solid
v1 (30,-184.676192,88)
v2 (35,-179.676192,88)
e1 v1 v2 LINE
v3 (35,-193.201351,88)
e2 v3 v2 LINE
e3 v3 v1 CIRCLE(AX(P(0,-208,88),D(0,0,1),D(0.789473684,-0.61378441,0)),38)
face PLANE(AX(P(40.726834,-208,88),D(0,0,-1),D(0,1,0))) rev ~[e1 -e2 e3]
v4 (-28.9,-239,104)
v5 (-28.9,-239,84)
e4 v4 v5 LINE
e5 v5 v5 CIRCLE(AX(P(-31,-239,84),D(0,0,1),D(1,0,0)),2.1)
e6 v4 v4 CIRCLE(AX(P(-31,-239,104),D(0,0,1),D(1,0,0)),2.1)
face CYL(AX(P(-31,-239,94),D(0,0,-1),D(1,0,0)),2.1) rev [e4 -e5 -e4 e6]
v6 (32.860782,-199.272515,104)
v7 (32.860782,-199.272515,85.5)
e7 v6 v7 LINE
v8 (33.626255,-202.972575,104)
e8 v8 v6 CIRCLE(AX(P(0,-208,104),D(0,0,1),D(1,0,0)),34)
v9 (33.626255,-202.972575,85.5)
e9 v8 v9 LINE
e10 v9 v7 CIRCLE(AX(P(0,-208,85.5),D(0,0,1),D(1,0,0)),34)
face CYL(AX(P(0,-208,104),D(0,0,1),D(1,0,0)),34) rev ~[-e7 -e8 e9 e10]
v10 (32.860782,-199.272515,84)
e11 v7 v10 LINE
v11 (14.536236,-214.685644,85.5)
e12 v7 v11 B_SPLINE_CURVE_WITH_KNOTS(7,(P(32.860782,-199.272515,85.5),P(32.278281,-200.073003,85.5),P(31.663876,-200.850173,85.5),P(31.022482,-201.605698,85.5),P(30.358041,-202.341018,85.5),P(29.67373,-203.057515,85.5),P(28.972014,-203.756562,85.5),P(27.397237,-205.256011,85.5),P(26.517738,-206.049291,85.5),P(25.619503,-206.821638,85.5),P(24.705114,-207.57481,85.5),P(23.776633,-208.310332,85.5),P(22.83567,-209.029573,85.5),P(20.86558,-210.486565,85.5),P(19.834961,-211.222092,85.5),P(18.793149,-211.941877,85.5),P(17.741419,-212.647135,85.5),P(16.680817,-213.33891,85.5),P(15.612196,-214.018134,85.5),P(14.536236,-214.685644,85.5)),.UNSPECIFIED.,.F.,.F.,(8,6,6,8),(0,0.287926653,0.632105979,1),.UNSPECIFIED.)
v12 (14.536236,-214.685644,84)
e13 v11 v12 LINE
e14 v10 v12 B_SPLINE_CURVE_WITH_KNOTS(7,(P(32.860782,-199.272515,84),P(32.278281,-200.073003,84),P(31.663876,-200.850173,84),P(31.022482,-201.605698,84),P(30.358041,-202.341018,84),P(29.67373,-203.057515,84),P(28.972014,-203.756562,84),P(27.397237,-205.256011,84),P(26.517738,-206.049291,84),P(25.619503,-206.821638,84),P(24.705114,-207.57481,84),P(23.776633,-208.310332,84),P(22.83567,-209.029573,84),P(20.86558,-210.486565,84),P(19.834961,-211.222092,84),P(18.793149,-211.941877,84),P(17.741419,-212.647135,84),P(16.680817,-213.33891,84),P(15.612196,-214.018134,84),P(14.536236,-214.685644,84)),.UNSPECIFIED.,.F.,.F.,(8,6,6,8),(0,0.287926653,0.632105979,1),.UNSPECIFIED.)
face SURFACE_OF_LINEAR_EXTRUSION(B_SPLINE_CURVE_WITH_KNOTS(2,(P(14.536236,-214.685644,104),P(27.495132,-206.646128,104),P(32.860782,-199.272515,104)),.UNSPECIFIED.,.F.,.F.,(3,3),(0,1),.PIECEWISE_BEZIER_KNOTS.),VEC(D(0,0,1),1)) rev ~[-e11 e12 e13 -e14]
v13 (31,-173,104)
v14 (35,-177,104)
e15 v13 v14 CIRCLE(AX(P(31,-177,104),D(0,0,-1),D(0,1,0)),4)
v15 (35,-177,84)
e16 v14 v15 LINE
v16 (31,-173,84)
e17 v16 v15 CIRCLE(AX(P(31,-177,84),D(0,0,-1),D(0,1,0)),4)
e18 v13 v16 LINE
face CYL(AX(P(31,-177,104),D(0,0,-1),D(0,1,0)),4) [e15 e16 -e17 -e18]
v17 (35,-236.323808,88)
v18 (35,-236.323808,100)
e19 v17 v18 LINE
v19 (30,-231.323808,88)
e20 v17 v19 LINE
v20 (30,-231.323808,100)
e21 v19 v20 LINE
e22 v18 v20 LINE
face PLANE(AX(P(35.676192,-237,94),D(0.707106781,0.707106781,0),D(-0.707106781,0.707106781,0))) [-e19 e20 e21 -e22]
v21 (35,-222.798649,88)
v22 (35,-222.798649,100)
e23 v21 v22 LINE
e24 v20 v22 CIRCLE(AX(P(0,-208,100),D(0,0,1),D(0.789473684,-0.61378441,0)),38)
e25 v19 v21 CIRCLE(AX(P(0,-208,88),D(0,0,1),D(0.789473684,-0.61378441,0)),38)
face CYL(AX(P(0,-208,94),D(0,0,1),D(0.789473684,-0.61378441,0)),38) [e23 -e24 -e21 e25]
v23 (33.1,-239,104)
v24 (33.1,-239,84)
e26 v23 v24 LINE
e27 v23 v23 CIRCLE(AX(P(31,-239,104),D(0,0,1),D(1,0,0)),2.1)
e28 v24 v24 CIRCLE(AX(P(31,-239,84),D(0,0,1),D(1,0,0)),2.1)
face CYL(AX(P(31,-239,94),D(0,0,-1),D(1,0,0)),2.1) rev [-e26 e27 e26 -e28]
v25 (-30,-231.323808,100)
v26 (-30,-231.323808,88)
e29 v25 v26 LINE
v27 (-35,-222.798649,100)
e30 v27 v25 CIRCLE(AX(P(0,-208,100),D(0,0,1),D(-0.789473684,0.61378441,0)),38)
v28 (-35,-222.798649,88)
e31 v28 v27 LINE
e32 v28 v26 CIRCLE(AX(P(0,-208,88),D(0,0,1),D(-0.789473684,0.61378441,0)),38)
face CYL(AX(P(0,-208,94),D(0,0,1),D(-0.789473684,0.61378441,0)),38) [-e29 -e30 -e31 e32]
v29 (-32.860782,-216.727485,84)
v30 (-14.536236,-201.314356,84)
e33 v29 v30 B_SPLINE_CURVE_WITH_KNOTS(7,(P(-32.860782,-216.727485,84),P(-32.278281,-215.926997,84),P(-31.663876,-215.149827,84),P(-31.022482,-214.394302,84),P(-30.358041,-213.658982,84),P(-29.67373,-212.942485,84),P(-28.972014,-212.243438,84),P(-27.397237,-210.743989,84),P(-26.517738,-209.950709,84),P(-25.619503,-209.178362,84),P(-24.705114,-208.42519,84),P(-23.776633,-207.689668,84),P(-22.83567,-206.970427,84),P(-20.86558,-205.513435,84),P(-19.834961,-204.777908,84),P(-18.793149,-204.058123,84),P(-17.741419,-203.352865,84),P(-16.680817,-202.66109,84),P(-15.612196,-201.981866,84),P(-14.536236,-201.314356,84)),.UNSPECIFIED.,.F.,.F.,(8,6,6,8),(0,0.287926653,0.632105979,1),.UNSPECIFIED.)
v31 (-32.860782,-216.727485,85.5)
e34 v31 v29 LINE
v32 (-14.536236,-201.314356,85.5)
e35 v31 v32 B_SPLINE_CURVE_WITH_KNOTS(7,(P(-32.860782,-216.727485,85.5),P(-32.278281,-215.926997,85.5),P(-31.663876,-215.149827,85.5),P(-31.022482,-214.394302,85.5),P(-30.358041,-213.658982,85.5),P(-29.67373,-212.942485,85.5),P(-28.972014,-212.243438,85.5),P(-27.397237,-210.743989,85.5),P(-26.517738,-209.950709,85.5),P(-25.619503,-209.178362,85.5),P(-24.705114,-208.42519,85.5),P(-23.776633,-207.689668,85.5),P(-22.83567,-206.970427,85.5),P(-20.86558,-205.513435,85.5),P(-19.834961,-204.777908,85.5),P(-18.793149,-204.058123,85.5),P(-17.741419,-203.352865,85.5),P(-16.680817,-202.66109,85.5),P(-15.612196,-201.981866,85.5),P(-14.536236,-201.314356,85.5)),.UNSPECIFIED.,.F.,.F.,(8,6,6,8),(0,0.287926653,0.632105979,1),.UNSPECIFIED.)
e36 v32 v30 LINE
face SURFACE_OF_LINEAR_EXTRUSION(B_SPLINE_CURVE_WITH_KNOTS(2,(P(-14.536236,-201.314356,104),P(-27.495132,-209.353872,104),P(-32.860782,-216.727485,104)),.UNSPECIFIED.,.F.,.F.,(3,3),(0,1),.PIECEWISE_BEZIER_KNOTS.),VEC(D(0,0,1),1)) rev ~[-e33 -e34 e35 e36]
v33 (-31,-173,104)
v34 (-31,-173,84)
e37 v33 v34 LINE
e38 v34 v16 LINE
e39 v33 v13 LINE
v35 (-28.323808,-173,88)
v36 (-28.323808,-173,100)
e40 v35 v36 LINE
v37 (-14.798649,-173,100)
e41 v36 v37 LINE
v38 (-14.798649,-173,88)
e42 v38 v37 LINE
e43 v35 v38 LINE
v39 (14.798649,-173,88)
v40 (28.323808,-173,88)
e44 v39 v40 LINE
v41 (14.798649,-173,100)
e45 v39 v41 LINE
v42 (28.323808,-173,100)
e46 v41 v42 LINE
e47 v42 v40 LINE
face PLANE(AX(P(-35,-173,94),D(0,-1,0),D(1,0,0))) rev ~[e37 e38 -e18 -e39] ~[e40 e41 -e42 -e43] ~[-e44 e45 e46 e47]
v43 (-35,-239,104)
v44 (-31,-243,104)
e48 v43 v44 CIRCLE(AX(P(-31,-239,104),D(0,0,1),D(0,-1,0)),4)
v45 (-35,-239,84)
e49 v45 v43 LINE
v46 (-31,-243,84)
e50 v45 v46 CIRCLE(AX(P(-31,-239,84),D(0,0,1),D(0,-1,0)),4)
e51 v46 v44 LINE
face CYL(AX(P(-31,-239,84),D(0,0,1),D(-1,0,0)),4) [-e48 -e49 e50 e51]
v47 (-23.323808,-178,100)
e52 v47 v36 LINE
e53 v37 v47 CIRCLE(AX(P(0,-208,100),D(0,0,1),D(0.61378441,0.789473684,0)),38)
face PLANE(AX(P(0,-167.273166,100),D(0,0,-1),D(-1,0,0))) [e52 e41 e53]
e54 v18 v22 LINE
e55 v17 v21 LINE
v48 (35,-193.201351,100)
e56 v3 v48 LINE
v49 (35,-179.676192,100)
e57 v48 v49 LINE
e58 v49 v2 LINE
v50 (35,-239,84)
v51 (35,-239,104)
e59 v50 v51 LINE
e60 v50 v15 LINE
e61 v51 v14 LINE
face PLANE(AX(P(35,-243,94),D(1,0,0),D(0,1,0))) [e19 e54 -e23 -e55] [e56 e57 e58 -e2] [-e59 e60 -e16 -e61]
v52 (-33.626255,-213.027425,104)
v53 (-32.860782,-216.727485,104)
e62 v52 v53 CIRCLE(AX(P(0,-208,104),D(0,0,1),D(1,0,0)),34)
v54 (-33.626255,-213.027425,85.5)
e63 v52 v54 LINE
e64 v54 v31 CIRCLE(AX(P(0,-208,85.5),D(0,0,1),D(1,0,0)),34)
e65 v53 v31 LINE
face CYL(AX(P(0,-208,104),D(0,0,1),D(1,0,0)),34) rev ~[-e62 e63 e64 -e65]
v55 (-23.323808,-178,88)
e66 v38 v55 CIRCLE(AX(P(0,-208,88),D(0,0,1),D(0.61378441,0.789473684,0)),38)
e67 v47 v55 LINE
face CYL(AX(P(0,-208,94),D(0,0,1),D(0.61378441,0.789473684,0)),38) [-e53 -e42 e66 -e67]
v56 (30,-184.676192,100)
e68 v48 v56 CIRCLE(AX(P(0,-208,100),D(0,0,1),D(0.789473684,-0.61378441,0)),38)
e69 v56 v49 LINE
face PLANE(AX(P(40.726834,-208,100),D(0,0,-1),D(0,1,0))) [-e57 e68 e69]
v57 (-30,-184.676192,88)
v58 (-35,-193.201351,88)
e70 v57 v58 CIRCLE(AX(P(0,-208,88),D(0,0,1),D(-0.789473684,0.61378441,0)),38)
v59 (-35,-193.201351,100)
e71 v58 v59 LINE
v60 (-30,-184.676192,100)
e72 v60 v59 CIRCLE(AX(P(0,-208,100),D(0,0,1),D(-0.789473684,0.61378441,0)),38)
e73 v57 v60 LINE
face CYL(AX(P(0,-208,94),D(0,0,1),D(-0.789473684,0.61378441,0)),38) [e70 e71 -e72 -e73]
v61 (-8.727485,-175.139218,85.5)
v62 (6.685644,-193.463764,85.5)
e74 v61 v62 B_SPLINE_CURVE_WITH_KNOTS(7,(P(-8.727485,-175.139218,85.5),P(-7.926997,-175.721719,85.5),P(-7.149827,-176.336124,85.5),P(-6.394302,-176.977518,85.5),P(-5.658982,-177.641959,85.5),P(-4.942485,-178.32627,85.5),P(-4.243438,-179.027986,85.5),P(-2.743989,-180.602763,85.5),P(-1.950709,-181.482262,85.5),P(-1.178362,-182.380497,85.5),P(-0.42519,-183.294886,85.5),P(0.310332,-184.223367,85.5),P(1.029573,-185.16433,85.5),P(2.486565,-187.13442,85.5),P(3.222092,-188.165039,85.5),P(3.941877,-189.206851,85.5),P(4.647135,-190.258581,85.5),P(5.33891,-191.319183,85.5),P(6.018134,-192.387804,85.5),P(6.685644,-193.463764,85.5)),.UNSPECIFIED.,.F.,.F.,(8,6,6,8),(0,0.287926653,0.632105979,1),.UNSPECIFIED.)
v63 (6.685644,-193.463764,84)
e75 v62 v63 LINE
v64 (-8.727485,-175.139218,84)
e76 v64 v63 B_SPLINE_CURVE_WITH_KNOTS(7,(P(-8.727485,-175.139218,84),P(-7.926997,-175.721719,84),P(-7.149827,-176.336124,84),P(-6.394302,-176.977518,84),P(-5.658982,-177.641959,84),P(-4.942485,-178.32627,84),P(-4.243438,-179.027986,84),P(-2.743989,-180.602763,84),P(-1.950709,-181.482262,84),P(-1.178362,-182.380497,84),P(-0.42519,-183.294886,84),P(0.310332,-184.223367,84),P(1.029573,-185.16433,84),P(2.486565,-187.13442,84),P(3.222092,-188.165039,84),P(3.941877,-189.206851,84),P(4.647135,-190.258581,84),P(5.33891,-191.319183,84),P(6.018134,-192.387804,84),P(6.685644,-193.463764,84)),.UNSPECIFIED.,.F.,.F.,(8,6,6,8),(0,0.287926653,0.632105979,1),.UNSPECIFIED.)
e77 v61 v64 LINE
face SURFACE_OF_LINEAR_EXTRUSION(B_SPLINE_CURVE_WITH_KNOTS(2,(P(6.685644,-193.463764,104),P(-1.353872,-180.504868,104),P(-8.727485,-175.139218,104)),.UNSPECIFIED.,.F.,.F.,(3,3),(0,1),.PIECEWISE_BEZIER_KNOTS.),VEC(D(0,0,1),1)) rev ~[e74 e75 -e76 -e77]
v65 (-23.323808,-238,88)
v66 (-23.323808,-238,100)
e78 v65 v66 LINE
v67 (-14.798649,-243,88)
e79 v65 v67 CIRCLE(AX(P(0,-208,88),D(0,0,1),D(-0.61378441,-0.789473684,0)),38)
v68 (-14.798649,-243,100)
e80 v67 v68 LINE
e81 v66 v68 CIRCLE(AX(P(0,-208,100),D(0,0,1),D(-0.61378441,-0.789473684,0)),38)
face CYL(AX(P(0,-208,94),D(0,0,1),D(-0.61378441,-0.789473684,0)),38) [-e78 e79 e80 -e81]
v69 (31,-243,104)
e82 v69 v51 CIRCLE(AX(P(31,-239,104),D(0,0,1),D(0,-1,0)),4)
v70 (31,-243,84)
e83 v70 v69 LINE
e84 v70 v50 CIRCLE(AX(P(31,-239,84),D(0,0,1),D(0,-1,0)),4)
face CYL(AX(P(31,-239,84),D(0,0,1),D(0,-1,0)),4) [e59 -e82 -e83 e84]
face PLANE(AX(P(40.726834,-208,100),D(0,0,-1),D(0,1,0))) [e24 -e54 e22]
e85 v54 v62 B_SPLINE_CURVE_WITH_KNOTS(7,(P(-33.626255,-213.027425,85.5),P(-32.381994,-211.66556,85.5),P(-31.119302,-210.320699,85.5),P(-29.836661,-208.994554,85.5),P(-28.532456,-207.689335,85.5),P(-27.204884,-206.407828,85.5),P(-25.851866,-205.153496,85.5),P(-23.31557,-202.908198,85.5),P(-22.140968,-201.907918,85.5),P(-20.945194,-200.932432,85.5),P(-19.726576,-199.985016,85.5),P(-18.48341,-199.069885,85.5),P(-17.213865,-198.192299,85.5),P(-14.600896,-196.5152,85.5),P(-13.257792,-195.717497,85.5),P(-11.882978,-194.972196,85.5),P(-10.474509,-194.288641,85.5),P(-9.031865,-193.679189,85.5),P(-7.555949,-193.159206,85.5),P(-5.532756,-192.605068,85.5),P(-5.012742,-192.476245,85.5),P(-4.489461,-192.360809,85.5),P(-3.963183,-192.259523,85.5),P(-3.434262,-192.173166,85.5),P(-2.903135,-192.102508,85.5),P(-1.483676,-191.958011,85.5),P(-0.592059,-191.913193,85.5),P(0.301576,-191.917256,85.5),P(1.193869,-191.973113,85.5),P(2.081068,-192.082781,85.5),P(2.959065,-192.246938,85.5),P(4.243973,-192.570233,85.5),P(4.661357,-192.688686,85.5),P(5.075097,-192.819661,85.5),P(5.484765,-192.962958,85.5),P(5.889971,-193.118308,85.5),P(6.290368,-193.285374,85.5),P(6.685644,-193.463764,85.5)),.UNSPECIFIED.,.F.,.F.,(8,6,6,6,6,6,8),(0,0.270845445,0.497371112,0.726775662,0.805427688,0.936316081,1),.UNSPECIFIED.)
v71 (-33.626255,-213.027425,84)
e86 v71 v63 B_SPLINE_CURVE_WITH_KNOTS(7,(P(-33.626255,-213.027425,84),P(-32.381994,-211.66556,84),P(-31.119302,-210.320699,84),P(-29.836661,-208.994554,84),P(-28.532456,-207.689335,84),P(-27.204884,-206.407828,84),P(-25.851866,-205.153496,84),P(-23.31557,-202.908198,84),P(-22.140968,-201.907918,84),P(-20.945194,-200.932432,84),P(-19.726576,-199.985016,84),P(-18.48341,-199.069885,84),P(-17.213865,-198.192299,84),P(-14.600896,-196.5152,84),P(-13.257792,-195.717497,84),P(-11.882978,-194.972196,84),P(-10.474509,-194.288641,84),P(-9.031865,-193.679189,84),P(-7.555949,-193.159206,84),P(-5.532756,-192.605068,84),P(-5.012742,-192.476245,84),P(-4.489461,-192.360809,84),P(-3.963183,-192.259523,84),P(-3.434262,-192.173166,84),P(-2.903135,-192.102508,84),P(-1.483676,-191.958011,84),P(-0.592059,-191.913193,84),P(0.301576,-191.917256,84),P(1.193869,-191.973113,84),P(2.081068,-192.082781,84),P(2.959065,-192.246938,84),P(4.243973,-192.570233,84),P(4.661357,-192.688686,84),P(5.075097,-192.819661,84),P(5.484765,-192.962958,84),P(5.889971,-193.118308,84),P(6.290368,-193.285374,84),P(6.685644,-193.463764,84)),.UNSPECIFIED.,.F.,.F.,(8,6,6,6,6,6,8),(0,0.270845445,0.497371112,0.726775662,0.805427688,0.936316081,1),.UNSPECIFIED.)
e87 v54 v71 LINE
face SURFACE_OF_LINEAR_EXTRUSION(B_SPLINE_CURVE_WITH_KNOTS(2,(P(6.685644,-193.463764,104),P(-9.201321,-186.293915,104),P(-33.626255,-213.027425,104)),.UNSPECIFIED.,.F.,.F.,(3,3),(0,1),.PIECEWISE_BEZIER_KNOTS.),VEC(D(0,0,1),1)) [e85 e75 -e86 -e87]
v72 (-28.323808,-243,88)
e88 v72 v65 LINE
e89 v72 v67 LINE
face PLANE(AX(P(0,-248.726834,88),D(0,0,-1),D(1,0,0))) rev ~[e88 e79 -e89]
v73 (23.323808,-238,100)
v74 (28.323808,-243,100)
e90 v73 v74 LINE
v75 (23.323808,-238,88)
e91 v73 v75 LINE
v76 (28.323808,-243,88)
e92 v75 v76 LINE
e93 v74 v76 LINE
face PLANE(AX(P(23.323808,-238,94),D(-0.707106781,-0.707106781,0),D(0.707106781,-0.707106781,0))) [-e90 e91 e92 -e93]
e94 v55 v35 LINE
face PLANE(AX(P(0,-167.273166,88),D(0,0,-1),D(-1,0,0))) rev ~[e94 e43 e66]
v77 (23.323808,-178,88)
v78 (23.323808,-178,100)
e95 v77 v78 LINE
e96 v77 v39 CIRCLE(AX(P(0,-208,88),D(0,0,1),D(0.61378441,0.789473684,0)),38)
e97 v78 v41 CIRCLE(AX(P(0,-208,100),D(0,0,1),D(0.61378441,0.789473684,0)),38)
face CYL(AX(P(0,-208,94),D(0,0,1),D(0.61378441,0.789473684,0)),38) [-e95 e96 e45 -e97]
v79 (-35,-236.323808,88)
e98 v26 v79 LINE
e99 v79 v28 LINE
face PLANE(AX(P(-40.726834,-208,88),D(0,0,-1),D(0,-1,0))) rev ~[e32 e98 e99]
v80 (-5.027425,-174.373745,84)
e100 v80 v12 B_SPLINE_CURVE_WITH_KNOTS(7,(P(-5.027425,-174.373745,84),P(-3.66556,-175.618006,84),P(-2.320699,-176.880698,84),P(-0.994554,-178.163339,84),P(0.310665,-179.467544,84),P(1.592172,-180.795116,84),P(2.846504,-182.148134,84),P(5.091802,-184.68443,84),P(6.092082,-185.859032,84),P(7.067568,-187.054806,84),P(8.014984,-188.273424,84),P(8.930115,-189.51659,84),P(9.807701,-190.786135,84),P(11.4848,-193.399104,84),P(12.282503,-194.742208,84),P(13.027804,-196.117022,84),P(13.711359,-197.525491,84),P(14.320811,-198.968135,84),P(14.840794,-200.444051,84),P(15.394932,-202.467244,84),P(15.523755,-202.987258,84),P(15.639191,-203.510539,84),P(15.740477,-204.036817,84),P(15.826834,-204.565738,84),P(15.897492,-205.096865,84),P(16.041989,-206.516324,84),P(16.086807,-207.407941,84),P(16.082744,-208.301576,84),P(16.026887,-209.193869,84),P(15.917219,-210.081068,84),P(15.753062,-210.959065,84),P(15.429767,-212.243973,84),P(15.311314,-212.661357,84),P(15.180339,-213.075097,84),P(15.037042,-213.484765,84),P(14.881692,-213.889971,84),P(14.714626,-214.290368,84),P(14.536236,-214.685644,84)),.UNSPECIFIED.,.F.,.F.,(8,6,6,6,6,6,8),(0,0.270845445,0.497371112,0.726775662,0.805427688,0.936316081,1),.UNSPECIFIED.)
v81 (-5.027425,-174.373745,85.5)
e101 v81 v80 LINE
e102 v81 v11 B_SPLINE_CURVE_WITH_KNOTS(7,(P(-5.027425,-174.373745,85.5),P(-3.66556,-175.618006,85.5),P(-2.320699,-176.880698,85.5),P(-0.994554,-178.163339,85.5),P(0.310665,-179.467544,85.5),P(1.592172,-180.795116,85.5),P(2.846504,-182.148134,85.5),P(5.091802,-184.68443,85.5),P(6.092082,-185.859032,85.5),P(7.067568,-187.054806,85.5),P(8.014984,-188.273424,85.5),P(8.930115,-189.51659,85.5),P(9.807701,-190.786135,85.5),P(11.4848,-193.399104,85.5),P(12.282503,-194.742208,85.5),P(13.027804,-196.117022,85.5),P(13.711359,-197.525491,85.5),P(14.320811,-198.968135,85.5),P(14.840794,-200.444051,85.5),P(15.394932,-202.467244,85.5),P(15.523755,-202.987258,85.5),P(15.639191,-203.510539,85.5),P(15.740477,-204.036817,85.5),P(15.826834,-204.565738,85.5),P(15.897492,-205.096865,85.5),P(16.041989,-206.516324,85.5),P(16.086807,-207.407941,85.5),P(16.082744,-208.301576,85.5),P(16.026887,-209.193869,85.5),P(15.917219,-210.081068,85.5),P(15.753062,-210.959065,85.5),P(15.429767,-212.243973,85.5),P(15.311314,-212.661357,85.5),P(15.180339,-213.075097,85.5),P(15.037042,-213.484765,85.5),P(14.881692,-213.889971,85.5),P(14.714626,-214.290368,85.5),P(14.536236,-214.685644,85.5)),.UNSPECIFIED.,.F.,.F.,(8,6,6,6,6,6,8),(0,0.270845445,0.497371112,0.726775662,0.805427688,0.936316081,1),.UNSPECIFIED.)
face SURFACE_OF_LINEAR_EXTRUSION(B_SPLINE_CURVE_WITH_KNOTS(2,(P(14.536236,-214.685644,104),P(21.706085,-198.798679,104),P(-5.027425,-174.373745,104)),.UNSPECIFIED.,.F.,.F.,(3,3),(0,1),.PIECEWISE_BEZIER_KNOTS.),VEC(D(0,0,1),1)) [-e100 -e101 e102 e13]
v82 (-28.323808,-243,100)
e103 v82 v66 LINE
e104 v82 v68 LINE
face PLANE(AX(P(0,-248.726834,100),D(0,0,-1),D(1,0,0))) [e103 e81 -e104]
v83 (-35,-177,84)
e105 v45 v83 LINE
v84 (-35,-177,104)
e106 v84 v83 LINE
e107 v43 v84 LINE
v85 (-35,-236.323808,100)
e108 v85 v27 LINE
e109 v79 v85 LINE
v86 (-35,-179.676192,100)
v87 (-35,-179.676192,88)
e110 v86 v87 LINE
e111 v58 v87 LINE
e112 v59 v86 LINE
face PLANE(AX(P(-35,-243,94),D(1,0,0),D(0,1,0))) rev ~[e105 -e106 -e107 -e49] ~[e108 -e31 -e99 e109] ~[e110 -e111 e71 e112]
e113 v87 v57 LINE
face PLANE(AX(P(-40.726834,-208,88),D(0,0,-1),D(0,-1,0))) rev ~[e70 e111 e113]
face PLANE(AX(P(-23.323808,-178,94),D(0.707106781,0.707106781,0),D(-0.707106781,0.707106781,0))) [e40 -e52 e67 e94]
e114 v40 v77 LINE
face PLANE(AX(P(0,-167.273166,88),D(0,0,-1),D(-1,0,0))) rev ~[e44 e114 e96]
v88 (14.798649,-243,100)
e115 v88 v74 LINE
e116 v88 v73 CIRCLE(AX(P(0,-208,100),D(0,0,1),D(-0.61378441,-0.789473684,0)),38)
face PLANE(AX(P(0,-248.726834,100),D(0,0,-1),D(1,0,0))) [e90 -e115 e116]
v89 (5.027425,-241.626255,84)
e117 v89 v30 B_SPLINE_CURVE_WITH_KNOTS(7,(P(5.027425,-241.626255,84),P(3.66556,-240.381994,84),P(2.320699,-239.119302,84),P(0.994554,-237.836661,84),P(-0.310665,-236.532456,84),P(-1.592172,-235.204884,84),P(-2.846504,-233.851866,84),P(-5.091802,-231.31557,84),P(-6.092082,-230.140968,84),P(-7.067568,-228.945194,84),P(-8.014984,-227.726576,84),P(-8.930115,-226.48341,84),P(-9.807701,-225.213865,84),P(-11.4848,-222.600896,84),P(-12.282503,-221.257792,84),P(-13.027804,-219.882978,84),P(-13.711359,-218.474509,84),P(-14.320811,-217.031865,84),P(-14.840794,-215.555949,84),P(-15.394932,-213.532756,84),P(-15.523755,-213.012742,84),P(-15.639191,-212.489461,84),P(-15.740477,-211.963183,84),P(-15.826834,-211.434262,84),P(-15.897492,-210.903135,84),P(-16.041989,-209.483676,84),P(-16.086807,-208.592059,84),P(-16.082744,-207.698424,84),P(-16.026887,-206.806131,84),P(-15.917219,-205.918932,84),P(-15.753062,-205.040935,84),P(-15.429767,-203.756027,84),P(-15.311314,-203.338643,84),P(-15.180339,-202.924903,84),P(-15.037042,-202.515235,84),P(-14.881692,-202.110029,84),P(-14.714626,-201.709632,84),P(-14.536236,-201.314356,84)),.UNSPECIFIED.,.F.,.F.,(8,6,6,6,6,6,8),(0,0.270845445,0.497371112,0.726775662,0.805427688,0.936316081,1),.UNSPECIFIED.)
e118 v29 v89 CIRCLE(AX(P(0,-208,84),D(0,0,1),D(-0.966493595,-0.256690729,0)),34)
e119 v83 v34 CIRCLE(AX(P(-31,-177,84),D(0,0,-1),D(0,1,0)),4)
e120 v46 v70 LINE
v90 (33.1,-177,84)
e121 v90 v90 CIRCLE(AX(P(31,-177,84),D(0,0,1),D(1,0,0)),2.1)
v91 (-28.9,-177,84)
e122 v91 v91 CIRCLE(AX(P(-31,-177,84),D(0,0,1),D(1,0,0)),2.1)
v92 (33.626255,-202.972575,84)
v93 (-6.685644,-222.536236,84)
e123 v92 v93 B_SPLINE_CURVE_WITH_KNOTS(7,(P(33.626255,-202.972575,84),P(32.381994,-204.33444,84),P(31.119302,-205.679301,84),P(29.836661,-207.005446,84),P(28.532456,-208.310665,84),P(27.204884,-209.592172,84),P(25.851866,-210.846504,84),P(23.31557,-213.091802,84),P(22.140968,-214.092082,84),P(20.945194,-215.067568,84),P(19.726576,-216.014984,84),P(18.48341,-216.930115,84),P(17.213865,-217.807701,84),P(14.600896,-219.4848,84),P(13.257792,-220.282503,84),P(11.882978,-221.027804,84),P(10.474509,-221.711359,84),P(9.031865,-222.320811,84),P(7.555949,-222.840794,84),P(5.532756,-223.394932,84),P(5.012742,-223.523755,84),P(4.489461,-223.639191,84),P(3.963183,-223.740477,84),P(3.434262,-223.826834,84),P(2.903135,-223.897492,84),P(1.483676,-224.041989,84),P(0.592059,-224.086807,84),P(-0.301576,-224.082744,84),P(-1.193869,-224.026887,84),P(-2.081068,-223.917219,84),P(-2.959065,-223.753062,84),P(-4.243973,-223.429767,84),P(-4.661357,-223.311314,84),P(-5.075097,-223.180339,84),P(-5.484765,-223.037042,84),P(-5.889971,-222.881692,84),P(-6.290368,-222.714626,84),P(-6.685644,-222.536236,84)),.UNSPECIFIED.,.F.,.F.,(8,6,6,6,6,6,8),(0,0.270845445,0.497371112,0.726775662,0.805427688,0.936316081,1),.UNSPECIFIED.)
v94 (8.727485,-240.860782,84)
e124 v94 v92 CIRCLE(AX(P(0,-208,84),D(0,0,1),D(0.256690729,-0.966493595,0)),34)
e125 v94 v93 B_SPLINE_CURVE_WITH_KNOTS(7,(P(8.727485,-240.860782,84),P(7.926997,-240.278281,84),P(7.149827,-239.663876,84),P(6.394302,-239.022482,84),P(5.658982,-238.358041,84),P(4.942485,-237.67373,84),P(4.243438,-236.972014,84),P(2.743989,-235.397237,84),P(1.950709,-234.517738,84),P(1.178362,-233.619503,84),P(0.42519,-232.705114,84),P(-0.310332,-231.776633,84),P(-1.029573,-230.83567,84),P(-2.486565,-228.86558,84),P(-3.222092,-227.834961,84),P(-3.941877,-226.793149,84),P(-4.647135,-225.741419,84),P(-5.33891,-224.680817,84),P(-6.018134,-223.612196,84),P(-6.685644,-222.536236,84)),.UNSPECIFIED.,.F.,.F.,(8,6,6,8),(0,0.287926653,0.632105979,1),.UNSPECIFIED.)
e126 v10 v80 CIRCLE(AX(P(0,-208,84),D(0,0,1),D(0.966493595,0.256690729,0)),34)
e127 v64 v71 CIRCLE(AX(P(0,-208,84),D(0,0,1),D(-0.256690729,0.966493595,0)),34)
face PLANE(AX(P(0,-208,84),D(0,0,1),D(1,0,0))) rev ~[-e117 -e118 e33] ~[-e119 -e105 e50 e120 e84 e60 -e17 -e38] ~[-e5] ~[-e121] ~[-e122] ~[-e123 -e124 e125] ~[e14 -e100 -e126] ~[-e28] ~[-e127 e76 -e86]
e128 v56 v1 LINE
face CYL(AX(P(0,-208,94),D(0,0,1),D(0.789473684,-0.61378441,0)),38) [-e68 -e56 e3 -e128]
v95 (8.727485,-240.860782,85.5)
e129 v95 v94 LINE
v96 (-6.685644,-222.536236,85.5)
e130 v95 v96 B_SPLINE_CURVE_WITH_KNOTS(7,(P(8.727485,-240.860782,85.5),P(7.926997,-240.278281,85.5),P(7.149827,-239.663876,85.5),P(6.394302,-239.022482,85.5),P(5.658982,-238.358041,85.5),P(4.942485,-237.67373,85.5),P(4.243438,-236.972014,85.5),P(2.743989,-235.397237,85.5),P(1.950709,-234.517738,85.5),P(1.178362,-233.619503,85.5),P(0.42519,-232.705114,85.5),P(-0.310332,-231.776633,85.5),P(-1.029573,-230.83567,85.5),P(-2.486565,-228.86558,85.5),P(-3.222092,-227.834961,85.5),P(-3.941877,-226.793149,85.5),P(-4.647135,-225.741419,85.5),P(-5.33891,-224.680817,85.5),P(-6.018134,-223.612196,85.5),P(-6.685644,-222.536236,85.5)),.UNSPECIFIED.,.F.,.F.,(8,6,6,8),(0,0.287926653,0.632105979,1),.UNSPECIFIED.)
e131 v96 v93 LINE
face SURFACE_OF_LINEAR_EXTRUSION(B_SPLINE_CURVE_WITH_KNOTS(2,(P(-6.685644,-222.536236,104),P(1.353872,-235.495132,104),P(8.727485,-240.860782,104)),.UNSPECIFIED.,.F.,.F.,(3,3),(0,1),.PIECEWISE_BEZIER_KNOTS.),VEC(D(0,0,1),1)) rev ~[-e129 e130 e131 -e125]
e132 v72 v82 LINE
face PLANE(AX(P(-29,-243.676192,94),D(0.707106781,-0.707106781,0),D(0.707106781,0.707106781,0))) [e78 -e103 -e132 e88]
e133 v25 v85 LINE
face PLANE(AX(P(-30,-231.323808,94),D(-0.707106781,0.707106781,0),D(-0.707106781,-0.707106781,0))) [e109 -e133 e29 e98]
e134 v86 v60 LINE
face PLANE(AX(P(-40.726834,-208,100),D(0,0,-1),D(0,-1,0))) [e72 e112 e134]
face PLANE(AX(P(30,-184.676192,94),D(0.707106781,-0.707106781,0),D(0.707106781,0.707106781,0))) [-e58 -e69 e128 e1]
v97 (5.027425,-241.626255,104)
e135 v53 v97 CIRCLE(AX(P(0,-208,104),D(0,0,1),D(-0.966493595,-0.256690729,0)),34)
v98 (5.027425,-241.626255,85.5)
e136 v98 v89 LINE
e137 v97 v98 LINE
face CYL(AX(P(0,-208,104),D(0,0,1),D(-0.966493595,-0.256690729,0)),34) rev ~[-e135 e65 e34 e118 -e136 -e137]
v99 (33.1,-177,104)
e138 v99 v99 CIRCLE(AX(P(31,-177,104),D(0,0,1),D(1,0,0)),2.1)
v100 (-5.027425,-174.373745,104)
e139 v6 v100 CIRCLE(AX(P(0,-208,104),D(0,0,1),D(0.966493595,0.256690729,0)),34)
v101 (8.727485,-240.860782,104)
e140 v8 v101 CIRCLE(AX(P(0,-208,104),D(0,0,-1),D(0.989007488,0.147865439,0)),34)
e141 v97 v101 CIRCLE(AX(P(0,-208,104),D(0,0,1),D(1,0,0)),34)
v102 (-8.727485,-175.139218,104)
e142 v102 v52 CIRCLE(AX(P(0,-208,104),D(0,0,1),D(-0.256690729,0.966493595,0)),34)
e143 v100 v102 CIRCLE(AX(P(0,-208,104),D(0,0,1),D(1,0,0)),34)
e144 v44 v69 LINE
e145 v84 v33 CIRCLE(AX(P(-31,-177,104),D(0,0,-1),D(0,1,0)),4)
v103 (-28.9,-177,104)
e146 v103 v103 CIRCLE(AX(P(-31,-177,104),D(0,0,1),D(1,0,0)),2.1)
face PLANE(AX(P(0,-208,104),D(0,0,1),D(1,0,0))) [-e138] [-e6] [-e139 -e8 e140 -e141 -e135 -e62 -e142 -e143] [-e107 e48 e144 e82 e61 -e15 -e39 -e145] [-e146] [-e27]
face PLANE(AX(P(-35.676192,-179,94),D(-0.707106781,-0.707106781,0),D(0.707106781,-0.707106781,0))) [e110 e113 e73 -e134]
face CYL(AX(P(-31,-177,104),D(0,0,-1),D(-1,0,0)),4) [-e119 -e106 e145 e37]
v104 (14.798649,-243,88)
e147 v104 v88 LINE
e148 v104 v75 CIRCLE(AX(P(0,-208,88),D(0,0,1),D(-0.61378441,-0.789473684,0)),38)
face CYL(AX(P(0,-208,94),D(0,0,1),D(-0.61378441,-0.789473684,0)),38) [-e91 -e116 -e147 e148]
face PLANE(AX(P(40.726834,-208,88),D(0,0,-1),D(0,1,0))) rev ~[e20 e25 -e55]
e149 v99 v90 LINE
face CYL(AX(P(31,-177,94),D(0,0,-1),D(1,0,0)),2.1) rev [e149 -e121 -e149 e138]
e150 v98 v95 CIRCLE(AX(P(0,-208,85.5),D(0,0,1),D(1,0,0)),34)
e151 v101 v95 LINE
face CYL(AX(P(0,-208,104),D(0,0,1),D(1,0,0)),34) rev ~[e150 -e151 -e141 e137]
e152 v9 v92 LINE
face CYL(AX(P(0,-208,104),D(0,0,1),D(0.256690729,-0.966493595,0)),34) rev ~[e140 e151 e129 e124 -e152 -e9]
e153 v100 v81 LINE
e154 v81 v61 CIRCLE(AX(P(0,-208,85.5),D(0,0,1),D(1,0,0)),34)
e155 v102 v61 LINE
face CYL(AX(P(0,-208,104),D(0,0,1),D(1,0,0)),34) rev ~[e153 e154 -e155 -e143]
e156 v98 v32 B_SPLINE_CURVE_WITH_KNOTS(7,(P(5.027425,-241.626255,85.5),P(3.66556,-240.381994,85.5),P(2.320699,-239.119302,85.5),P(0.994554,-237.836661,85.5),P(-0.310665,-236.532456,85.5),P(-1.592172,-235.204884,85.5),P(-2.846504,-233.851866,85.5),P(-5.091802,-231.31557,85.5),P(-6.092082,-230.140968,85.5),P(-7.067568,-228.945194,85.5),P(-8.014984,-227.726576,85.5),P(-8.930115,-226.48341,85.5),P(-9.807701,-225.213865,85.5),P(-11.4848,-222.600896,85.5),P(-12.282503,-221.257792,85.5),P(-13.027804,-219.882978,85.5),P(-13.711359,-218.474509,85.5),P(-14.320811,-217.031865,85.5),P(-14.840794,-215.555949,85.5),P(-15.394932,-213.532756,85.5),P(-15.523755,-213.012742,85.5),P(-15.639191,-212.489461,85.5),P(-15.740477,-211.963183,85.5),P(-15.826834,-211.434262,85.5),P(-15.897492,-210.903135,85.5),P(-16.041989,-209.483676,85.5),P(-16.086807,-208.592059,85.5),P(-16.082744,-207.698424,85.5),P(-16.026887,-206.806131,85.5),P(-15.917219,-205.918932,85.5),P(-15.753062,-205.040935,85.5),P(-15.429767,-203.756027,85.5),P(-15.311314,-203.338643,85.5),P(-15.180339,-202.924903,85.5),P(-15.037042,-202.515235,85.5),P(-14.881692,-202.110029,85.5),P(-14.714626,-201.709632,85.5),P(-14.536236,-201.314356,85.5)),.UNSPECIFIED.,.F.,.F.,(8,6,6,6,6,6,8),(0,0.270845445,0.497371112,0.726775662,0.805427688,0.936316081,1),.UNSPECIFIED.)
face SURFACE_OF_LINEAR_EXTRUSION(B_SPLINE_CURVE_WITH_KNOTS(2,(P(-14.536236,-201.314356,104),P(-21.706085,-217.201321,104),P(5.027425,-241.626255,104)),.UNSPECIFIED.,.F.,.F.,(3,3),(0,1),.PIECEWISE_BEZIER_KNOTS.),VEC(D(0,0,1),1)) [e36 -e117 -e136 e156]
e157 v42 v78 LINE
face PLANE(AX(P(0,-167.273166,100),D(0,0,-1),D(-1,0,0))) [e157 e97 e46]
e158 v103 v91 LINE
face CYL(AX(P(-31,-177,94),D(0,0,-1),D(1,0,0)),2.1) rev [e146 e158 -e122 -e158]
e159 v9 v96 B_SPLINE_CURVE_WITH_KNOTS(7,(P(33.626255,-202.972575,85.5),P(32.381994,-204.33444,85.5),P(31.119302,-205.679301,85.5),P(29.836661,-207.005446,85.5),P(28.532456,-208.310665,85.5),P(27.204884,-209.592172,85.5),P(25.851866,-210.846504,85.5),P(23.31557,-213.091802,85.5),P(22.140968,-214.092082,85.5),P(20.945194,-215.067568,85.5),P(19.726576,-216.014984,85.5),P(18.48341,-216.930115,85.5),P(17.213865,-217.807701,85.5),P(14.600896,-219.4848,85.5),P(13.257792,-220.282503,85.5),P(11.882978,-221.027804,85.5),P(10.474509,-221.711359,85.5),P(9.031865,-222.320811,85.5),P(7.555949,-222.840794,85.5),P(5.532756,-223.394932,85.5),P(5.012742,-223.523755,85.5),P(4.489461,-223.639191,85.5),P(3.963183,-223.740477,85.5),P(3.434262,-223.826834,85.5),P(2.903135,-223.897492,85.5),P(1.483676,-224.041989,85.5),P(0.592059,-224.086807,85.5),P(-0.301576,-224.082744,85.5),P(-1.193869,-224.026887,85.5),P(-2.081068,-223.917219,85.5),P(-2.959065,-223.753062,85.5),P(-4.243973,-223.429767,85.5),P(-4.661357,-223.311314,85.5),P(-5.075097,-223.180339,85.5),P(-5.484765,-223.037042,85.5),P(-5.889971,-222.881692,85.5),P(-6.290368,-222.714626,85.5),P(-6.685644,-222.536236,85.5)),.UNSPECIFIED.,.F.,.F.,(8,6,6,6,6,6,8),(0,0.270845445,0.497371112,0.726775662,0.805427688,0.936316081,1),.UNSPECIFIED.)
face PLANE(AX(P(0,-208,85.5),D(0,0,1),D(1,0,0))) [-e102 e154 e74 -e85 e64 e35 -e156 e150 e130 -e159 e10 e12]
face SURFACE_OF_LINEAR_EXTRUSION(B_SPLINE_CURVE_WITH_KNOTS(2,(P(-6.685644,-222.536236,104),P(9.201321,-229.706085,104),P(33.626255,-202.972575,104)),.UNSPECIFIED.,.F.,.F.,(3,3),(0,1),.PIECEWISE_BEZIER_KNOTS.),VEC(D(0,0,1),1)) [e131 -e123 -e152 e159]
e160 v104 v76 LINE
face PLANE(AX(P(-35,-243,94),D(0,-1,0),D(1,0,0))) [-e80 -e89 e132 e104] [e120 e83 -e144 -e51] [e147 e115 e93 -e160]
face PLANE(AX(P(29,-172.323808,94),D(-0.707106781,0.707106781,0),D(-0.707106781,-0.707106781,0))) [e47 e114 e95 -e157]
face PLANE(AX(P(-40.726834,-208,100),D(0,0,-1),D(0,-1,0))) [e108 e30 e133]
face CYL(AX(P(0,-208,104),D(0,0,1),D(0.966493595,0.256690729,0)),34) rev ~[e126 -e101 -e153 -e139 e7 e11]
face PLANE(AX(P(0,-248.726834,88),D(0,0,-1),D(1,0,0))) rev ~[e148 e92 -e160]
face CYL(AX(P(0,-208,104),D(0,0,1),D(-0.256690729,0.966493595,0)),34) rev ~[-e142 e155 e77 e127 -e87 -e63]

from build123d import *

# Parameters (mm, degrees)
SKETCH030_W           = 70
SKETCH030_H           = 70
SKETCH030_R           = 2.1
PAD019_DEPTH          = 10
POCKET014_DEPTH       = 221.9910987672
POLARPATTERN002_COUNT = 4
FILLET011_R           = 4
SKETCH032_R           = 34
POCKET018_DEPTH       = 18.5
POCKET017_DEPTH       = 6
POLARPATTERN003_COUNT = 4


with BuildPart() as part:
    # Sketch030 → Pad019 (new body, symmetric)
    with BuildSketch(Plane.XY):
        Rectangle(SKETCH030_W, SKETCH030_H)
        with Locations((-31, 31)):
            Circle(SKETCH030_R, mode=Mode.SUBTRACT)
        with Locations((31, 31)):
            Circle(SKETCH030_R, mode=Mode.SUBTRACT)
        with Locations((31, -31)):
            Circle(SKETCH030_R, mode=Mode.SUBTRACT)
        with Locations((-31, -31)):
            Circle(SKETCH030_R, mode=Mode.SUBTRACT)
    extrude(amount=PAD019_DEPTH, both=True)

    # Sketch029 (on Face10 of Pad019) → Pocket014 (cut, through all)
    with BuildSketch(Plane.XY.offset(10)):
        with BuildLine():
            ThreePointArc((-8.7274847969, 32.8607822354), (-28.4137092085, 18.6724698156), (-33.6262546007, -5.0274249403))
            add(Edge.make_bspline(
                [(6.6856437151, 14.5362363807), (-9.201321, 21.706085), (-33.6262546007, -5.0274249403)],
                knots=[0, 0, 0, 1, 1, 1], degree=2))
            add(Edge.make_bspline(
                [(6.6856437151, 14.5362363807), (-1.353872, 27.495132), (-8.7274847969, 32.8607822354)],
                knots=[0, 0, 0, 1, 1, 1], degree=2))
        make_face()
    pocket014 = extrude(amount=-POCKET014_DEPTH, mode=Mode.SUBTRACT)

    # PolarPattern002: Pocket014 ×4 about axis
    polarpattern002_axis = Axis((0, 0, 10), (0, 0, 1))
    for i in range(1, POLARPATTERN002_COUNT):
        add(pocket014.rotate(polarpattern002_axis, i * 360 / POLARPATTERN002_COUNT), mode=Mode.SUBTRACT)

    # Fillet011
    fillet011_edges = [part.edges().sort_by_distance(p)[0] for p in [
        (35, 35, 0),
        (-35, 35, 0),
        (35, -35, 0),
        (-35, -35, 0),
    ]]
    fillet(fillet011_edges, radius=FILLET011_R)

    # Sketch032 (on Face5 of Fillet011) → Pocket018 (cut)
    with BuildSketch(Plane.XY.offset(10)):
        Circle(SKETCH032_R)
    extrude(amount=-POCKET018_DEPTH, mode=Mode.SUBTRACT)

    # Sketch033 → Pocket017 (cut, symmetric)
    with BuildSketch(Plane.XY):
        with BuildLine():
            ThreePointArc((23.3238075794, 30), (0, 38), (-23.3238075794, 30))
            Line((-23.3238075794, 30), (-29, 35.6761924206))
            Line((-29, 35.6761924206), (-29, 47.6761924206))
            Line((-29, 47.6761924206), (29, 47.6761924206))
            Line((29, 47.6761924206), (29, 35.6761924206))
            Line((29, 35.6761924206), (23.3238075794, 30))
        make_face()
    pocket017 = extrude(amount=POCKET017_DEPTH, both=True, mode=Mode.SUBTRACT)

    # PolarPattern003: Pocket017 ×4 about axis
    polarpattern003_axis = Axis((0, 0, 0), (0, 0, 1))
    for i in range(1, POLARPATTERN003_COUNT):
        add(pocket017.rotate(polarpattern003_axis, i * 360 / POLARPATTERN003_COUNT), mode=Mode.SUBTRACT)


with BuildPart() as part_1:
    # Body013 placement: moved
    add(part.part.moved(Location((0, -208, 94))))


solid = part_1.part
